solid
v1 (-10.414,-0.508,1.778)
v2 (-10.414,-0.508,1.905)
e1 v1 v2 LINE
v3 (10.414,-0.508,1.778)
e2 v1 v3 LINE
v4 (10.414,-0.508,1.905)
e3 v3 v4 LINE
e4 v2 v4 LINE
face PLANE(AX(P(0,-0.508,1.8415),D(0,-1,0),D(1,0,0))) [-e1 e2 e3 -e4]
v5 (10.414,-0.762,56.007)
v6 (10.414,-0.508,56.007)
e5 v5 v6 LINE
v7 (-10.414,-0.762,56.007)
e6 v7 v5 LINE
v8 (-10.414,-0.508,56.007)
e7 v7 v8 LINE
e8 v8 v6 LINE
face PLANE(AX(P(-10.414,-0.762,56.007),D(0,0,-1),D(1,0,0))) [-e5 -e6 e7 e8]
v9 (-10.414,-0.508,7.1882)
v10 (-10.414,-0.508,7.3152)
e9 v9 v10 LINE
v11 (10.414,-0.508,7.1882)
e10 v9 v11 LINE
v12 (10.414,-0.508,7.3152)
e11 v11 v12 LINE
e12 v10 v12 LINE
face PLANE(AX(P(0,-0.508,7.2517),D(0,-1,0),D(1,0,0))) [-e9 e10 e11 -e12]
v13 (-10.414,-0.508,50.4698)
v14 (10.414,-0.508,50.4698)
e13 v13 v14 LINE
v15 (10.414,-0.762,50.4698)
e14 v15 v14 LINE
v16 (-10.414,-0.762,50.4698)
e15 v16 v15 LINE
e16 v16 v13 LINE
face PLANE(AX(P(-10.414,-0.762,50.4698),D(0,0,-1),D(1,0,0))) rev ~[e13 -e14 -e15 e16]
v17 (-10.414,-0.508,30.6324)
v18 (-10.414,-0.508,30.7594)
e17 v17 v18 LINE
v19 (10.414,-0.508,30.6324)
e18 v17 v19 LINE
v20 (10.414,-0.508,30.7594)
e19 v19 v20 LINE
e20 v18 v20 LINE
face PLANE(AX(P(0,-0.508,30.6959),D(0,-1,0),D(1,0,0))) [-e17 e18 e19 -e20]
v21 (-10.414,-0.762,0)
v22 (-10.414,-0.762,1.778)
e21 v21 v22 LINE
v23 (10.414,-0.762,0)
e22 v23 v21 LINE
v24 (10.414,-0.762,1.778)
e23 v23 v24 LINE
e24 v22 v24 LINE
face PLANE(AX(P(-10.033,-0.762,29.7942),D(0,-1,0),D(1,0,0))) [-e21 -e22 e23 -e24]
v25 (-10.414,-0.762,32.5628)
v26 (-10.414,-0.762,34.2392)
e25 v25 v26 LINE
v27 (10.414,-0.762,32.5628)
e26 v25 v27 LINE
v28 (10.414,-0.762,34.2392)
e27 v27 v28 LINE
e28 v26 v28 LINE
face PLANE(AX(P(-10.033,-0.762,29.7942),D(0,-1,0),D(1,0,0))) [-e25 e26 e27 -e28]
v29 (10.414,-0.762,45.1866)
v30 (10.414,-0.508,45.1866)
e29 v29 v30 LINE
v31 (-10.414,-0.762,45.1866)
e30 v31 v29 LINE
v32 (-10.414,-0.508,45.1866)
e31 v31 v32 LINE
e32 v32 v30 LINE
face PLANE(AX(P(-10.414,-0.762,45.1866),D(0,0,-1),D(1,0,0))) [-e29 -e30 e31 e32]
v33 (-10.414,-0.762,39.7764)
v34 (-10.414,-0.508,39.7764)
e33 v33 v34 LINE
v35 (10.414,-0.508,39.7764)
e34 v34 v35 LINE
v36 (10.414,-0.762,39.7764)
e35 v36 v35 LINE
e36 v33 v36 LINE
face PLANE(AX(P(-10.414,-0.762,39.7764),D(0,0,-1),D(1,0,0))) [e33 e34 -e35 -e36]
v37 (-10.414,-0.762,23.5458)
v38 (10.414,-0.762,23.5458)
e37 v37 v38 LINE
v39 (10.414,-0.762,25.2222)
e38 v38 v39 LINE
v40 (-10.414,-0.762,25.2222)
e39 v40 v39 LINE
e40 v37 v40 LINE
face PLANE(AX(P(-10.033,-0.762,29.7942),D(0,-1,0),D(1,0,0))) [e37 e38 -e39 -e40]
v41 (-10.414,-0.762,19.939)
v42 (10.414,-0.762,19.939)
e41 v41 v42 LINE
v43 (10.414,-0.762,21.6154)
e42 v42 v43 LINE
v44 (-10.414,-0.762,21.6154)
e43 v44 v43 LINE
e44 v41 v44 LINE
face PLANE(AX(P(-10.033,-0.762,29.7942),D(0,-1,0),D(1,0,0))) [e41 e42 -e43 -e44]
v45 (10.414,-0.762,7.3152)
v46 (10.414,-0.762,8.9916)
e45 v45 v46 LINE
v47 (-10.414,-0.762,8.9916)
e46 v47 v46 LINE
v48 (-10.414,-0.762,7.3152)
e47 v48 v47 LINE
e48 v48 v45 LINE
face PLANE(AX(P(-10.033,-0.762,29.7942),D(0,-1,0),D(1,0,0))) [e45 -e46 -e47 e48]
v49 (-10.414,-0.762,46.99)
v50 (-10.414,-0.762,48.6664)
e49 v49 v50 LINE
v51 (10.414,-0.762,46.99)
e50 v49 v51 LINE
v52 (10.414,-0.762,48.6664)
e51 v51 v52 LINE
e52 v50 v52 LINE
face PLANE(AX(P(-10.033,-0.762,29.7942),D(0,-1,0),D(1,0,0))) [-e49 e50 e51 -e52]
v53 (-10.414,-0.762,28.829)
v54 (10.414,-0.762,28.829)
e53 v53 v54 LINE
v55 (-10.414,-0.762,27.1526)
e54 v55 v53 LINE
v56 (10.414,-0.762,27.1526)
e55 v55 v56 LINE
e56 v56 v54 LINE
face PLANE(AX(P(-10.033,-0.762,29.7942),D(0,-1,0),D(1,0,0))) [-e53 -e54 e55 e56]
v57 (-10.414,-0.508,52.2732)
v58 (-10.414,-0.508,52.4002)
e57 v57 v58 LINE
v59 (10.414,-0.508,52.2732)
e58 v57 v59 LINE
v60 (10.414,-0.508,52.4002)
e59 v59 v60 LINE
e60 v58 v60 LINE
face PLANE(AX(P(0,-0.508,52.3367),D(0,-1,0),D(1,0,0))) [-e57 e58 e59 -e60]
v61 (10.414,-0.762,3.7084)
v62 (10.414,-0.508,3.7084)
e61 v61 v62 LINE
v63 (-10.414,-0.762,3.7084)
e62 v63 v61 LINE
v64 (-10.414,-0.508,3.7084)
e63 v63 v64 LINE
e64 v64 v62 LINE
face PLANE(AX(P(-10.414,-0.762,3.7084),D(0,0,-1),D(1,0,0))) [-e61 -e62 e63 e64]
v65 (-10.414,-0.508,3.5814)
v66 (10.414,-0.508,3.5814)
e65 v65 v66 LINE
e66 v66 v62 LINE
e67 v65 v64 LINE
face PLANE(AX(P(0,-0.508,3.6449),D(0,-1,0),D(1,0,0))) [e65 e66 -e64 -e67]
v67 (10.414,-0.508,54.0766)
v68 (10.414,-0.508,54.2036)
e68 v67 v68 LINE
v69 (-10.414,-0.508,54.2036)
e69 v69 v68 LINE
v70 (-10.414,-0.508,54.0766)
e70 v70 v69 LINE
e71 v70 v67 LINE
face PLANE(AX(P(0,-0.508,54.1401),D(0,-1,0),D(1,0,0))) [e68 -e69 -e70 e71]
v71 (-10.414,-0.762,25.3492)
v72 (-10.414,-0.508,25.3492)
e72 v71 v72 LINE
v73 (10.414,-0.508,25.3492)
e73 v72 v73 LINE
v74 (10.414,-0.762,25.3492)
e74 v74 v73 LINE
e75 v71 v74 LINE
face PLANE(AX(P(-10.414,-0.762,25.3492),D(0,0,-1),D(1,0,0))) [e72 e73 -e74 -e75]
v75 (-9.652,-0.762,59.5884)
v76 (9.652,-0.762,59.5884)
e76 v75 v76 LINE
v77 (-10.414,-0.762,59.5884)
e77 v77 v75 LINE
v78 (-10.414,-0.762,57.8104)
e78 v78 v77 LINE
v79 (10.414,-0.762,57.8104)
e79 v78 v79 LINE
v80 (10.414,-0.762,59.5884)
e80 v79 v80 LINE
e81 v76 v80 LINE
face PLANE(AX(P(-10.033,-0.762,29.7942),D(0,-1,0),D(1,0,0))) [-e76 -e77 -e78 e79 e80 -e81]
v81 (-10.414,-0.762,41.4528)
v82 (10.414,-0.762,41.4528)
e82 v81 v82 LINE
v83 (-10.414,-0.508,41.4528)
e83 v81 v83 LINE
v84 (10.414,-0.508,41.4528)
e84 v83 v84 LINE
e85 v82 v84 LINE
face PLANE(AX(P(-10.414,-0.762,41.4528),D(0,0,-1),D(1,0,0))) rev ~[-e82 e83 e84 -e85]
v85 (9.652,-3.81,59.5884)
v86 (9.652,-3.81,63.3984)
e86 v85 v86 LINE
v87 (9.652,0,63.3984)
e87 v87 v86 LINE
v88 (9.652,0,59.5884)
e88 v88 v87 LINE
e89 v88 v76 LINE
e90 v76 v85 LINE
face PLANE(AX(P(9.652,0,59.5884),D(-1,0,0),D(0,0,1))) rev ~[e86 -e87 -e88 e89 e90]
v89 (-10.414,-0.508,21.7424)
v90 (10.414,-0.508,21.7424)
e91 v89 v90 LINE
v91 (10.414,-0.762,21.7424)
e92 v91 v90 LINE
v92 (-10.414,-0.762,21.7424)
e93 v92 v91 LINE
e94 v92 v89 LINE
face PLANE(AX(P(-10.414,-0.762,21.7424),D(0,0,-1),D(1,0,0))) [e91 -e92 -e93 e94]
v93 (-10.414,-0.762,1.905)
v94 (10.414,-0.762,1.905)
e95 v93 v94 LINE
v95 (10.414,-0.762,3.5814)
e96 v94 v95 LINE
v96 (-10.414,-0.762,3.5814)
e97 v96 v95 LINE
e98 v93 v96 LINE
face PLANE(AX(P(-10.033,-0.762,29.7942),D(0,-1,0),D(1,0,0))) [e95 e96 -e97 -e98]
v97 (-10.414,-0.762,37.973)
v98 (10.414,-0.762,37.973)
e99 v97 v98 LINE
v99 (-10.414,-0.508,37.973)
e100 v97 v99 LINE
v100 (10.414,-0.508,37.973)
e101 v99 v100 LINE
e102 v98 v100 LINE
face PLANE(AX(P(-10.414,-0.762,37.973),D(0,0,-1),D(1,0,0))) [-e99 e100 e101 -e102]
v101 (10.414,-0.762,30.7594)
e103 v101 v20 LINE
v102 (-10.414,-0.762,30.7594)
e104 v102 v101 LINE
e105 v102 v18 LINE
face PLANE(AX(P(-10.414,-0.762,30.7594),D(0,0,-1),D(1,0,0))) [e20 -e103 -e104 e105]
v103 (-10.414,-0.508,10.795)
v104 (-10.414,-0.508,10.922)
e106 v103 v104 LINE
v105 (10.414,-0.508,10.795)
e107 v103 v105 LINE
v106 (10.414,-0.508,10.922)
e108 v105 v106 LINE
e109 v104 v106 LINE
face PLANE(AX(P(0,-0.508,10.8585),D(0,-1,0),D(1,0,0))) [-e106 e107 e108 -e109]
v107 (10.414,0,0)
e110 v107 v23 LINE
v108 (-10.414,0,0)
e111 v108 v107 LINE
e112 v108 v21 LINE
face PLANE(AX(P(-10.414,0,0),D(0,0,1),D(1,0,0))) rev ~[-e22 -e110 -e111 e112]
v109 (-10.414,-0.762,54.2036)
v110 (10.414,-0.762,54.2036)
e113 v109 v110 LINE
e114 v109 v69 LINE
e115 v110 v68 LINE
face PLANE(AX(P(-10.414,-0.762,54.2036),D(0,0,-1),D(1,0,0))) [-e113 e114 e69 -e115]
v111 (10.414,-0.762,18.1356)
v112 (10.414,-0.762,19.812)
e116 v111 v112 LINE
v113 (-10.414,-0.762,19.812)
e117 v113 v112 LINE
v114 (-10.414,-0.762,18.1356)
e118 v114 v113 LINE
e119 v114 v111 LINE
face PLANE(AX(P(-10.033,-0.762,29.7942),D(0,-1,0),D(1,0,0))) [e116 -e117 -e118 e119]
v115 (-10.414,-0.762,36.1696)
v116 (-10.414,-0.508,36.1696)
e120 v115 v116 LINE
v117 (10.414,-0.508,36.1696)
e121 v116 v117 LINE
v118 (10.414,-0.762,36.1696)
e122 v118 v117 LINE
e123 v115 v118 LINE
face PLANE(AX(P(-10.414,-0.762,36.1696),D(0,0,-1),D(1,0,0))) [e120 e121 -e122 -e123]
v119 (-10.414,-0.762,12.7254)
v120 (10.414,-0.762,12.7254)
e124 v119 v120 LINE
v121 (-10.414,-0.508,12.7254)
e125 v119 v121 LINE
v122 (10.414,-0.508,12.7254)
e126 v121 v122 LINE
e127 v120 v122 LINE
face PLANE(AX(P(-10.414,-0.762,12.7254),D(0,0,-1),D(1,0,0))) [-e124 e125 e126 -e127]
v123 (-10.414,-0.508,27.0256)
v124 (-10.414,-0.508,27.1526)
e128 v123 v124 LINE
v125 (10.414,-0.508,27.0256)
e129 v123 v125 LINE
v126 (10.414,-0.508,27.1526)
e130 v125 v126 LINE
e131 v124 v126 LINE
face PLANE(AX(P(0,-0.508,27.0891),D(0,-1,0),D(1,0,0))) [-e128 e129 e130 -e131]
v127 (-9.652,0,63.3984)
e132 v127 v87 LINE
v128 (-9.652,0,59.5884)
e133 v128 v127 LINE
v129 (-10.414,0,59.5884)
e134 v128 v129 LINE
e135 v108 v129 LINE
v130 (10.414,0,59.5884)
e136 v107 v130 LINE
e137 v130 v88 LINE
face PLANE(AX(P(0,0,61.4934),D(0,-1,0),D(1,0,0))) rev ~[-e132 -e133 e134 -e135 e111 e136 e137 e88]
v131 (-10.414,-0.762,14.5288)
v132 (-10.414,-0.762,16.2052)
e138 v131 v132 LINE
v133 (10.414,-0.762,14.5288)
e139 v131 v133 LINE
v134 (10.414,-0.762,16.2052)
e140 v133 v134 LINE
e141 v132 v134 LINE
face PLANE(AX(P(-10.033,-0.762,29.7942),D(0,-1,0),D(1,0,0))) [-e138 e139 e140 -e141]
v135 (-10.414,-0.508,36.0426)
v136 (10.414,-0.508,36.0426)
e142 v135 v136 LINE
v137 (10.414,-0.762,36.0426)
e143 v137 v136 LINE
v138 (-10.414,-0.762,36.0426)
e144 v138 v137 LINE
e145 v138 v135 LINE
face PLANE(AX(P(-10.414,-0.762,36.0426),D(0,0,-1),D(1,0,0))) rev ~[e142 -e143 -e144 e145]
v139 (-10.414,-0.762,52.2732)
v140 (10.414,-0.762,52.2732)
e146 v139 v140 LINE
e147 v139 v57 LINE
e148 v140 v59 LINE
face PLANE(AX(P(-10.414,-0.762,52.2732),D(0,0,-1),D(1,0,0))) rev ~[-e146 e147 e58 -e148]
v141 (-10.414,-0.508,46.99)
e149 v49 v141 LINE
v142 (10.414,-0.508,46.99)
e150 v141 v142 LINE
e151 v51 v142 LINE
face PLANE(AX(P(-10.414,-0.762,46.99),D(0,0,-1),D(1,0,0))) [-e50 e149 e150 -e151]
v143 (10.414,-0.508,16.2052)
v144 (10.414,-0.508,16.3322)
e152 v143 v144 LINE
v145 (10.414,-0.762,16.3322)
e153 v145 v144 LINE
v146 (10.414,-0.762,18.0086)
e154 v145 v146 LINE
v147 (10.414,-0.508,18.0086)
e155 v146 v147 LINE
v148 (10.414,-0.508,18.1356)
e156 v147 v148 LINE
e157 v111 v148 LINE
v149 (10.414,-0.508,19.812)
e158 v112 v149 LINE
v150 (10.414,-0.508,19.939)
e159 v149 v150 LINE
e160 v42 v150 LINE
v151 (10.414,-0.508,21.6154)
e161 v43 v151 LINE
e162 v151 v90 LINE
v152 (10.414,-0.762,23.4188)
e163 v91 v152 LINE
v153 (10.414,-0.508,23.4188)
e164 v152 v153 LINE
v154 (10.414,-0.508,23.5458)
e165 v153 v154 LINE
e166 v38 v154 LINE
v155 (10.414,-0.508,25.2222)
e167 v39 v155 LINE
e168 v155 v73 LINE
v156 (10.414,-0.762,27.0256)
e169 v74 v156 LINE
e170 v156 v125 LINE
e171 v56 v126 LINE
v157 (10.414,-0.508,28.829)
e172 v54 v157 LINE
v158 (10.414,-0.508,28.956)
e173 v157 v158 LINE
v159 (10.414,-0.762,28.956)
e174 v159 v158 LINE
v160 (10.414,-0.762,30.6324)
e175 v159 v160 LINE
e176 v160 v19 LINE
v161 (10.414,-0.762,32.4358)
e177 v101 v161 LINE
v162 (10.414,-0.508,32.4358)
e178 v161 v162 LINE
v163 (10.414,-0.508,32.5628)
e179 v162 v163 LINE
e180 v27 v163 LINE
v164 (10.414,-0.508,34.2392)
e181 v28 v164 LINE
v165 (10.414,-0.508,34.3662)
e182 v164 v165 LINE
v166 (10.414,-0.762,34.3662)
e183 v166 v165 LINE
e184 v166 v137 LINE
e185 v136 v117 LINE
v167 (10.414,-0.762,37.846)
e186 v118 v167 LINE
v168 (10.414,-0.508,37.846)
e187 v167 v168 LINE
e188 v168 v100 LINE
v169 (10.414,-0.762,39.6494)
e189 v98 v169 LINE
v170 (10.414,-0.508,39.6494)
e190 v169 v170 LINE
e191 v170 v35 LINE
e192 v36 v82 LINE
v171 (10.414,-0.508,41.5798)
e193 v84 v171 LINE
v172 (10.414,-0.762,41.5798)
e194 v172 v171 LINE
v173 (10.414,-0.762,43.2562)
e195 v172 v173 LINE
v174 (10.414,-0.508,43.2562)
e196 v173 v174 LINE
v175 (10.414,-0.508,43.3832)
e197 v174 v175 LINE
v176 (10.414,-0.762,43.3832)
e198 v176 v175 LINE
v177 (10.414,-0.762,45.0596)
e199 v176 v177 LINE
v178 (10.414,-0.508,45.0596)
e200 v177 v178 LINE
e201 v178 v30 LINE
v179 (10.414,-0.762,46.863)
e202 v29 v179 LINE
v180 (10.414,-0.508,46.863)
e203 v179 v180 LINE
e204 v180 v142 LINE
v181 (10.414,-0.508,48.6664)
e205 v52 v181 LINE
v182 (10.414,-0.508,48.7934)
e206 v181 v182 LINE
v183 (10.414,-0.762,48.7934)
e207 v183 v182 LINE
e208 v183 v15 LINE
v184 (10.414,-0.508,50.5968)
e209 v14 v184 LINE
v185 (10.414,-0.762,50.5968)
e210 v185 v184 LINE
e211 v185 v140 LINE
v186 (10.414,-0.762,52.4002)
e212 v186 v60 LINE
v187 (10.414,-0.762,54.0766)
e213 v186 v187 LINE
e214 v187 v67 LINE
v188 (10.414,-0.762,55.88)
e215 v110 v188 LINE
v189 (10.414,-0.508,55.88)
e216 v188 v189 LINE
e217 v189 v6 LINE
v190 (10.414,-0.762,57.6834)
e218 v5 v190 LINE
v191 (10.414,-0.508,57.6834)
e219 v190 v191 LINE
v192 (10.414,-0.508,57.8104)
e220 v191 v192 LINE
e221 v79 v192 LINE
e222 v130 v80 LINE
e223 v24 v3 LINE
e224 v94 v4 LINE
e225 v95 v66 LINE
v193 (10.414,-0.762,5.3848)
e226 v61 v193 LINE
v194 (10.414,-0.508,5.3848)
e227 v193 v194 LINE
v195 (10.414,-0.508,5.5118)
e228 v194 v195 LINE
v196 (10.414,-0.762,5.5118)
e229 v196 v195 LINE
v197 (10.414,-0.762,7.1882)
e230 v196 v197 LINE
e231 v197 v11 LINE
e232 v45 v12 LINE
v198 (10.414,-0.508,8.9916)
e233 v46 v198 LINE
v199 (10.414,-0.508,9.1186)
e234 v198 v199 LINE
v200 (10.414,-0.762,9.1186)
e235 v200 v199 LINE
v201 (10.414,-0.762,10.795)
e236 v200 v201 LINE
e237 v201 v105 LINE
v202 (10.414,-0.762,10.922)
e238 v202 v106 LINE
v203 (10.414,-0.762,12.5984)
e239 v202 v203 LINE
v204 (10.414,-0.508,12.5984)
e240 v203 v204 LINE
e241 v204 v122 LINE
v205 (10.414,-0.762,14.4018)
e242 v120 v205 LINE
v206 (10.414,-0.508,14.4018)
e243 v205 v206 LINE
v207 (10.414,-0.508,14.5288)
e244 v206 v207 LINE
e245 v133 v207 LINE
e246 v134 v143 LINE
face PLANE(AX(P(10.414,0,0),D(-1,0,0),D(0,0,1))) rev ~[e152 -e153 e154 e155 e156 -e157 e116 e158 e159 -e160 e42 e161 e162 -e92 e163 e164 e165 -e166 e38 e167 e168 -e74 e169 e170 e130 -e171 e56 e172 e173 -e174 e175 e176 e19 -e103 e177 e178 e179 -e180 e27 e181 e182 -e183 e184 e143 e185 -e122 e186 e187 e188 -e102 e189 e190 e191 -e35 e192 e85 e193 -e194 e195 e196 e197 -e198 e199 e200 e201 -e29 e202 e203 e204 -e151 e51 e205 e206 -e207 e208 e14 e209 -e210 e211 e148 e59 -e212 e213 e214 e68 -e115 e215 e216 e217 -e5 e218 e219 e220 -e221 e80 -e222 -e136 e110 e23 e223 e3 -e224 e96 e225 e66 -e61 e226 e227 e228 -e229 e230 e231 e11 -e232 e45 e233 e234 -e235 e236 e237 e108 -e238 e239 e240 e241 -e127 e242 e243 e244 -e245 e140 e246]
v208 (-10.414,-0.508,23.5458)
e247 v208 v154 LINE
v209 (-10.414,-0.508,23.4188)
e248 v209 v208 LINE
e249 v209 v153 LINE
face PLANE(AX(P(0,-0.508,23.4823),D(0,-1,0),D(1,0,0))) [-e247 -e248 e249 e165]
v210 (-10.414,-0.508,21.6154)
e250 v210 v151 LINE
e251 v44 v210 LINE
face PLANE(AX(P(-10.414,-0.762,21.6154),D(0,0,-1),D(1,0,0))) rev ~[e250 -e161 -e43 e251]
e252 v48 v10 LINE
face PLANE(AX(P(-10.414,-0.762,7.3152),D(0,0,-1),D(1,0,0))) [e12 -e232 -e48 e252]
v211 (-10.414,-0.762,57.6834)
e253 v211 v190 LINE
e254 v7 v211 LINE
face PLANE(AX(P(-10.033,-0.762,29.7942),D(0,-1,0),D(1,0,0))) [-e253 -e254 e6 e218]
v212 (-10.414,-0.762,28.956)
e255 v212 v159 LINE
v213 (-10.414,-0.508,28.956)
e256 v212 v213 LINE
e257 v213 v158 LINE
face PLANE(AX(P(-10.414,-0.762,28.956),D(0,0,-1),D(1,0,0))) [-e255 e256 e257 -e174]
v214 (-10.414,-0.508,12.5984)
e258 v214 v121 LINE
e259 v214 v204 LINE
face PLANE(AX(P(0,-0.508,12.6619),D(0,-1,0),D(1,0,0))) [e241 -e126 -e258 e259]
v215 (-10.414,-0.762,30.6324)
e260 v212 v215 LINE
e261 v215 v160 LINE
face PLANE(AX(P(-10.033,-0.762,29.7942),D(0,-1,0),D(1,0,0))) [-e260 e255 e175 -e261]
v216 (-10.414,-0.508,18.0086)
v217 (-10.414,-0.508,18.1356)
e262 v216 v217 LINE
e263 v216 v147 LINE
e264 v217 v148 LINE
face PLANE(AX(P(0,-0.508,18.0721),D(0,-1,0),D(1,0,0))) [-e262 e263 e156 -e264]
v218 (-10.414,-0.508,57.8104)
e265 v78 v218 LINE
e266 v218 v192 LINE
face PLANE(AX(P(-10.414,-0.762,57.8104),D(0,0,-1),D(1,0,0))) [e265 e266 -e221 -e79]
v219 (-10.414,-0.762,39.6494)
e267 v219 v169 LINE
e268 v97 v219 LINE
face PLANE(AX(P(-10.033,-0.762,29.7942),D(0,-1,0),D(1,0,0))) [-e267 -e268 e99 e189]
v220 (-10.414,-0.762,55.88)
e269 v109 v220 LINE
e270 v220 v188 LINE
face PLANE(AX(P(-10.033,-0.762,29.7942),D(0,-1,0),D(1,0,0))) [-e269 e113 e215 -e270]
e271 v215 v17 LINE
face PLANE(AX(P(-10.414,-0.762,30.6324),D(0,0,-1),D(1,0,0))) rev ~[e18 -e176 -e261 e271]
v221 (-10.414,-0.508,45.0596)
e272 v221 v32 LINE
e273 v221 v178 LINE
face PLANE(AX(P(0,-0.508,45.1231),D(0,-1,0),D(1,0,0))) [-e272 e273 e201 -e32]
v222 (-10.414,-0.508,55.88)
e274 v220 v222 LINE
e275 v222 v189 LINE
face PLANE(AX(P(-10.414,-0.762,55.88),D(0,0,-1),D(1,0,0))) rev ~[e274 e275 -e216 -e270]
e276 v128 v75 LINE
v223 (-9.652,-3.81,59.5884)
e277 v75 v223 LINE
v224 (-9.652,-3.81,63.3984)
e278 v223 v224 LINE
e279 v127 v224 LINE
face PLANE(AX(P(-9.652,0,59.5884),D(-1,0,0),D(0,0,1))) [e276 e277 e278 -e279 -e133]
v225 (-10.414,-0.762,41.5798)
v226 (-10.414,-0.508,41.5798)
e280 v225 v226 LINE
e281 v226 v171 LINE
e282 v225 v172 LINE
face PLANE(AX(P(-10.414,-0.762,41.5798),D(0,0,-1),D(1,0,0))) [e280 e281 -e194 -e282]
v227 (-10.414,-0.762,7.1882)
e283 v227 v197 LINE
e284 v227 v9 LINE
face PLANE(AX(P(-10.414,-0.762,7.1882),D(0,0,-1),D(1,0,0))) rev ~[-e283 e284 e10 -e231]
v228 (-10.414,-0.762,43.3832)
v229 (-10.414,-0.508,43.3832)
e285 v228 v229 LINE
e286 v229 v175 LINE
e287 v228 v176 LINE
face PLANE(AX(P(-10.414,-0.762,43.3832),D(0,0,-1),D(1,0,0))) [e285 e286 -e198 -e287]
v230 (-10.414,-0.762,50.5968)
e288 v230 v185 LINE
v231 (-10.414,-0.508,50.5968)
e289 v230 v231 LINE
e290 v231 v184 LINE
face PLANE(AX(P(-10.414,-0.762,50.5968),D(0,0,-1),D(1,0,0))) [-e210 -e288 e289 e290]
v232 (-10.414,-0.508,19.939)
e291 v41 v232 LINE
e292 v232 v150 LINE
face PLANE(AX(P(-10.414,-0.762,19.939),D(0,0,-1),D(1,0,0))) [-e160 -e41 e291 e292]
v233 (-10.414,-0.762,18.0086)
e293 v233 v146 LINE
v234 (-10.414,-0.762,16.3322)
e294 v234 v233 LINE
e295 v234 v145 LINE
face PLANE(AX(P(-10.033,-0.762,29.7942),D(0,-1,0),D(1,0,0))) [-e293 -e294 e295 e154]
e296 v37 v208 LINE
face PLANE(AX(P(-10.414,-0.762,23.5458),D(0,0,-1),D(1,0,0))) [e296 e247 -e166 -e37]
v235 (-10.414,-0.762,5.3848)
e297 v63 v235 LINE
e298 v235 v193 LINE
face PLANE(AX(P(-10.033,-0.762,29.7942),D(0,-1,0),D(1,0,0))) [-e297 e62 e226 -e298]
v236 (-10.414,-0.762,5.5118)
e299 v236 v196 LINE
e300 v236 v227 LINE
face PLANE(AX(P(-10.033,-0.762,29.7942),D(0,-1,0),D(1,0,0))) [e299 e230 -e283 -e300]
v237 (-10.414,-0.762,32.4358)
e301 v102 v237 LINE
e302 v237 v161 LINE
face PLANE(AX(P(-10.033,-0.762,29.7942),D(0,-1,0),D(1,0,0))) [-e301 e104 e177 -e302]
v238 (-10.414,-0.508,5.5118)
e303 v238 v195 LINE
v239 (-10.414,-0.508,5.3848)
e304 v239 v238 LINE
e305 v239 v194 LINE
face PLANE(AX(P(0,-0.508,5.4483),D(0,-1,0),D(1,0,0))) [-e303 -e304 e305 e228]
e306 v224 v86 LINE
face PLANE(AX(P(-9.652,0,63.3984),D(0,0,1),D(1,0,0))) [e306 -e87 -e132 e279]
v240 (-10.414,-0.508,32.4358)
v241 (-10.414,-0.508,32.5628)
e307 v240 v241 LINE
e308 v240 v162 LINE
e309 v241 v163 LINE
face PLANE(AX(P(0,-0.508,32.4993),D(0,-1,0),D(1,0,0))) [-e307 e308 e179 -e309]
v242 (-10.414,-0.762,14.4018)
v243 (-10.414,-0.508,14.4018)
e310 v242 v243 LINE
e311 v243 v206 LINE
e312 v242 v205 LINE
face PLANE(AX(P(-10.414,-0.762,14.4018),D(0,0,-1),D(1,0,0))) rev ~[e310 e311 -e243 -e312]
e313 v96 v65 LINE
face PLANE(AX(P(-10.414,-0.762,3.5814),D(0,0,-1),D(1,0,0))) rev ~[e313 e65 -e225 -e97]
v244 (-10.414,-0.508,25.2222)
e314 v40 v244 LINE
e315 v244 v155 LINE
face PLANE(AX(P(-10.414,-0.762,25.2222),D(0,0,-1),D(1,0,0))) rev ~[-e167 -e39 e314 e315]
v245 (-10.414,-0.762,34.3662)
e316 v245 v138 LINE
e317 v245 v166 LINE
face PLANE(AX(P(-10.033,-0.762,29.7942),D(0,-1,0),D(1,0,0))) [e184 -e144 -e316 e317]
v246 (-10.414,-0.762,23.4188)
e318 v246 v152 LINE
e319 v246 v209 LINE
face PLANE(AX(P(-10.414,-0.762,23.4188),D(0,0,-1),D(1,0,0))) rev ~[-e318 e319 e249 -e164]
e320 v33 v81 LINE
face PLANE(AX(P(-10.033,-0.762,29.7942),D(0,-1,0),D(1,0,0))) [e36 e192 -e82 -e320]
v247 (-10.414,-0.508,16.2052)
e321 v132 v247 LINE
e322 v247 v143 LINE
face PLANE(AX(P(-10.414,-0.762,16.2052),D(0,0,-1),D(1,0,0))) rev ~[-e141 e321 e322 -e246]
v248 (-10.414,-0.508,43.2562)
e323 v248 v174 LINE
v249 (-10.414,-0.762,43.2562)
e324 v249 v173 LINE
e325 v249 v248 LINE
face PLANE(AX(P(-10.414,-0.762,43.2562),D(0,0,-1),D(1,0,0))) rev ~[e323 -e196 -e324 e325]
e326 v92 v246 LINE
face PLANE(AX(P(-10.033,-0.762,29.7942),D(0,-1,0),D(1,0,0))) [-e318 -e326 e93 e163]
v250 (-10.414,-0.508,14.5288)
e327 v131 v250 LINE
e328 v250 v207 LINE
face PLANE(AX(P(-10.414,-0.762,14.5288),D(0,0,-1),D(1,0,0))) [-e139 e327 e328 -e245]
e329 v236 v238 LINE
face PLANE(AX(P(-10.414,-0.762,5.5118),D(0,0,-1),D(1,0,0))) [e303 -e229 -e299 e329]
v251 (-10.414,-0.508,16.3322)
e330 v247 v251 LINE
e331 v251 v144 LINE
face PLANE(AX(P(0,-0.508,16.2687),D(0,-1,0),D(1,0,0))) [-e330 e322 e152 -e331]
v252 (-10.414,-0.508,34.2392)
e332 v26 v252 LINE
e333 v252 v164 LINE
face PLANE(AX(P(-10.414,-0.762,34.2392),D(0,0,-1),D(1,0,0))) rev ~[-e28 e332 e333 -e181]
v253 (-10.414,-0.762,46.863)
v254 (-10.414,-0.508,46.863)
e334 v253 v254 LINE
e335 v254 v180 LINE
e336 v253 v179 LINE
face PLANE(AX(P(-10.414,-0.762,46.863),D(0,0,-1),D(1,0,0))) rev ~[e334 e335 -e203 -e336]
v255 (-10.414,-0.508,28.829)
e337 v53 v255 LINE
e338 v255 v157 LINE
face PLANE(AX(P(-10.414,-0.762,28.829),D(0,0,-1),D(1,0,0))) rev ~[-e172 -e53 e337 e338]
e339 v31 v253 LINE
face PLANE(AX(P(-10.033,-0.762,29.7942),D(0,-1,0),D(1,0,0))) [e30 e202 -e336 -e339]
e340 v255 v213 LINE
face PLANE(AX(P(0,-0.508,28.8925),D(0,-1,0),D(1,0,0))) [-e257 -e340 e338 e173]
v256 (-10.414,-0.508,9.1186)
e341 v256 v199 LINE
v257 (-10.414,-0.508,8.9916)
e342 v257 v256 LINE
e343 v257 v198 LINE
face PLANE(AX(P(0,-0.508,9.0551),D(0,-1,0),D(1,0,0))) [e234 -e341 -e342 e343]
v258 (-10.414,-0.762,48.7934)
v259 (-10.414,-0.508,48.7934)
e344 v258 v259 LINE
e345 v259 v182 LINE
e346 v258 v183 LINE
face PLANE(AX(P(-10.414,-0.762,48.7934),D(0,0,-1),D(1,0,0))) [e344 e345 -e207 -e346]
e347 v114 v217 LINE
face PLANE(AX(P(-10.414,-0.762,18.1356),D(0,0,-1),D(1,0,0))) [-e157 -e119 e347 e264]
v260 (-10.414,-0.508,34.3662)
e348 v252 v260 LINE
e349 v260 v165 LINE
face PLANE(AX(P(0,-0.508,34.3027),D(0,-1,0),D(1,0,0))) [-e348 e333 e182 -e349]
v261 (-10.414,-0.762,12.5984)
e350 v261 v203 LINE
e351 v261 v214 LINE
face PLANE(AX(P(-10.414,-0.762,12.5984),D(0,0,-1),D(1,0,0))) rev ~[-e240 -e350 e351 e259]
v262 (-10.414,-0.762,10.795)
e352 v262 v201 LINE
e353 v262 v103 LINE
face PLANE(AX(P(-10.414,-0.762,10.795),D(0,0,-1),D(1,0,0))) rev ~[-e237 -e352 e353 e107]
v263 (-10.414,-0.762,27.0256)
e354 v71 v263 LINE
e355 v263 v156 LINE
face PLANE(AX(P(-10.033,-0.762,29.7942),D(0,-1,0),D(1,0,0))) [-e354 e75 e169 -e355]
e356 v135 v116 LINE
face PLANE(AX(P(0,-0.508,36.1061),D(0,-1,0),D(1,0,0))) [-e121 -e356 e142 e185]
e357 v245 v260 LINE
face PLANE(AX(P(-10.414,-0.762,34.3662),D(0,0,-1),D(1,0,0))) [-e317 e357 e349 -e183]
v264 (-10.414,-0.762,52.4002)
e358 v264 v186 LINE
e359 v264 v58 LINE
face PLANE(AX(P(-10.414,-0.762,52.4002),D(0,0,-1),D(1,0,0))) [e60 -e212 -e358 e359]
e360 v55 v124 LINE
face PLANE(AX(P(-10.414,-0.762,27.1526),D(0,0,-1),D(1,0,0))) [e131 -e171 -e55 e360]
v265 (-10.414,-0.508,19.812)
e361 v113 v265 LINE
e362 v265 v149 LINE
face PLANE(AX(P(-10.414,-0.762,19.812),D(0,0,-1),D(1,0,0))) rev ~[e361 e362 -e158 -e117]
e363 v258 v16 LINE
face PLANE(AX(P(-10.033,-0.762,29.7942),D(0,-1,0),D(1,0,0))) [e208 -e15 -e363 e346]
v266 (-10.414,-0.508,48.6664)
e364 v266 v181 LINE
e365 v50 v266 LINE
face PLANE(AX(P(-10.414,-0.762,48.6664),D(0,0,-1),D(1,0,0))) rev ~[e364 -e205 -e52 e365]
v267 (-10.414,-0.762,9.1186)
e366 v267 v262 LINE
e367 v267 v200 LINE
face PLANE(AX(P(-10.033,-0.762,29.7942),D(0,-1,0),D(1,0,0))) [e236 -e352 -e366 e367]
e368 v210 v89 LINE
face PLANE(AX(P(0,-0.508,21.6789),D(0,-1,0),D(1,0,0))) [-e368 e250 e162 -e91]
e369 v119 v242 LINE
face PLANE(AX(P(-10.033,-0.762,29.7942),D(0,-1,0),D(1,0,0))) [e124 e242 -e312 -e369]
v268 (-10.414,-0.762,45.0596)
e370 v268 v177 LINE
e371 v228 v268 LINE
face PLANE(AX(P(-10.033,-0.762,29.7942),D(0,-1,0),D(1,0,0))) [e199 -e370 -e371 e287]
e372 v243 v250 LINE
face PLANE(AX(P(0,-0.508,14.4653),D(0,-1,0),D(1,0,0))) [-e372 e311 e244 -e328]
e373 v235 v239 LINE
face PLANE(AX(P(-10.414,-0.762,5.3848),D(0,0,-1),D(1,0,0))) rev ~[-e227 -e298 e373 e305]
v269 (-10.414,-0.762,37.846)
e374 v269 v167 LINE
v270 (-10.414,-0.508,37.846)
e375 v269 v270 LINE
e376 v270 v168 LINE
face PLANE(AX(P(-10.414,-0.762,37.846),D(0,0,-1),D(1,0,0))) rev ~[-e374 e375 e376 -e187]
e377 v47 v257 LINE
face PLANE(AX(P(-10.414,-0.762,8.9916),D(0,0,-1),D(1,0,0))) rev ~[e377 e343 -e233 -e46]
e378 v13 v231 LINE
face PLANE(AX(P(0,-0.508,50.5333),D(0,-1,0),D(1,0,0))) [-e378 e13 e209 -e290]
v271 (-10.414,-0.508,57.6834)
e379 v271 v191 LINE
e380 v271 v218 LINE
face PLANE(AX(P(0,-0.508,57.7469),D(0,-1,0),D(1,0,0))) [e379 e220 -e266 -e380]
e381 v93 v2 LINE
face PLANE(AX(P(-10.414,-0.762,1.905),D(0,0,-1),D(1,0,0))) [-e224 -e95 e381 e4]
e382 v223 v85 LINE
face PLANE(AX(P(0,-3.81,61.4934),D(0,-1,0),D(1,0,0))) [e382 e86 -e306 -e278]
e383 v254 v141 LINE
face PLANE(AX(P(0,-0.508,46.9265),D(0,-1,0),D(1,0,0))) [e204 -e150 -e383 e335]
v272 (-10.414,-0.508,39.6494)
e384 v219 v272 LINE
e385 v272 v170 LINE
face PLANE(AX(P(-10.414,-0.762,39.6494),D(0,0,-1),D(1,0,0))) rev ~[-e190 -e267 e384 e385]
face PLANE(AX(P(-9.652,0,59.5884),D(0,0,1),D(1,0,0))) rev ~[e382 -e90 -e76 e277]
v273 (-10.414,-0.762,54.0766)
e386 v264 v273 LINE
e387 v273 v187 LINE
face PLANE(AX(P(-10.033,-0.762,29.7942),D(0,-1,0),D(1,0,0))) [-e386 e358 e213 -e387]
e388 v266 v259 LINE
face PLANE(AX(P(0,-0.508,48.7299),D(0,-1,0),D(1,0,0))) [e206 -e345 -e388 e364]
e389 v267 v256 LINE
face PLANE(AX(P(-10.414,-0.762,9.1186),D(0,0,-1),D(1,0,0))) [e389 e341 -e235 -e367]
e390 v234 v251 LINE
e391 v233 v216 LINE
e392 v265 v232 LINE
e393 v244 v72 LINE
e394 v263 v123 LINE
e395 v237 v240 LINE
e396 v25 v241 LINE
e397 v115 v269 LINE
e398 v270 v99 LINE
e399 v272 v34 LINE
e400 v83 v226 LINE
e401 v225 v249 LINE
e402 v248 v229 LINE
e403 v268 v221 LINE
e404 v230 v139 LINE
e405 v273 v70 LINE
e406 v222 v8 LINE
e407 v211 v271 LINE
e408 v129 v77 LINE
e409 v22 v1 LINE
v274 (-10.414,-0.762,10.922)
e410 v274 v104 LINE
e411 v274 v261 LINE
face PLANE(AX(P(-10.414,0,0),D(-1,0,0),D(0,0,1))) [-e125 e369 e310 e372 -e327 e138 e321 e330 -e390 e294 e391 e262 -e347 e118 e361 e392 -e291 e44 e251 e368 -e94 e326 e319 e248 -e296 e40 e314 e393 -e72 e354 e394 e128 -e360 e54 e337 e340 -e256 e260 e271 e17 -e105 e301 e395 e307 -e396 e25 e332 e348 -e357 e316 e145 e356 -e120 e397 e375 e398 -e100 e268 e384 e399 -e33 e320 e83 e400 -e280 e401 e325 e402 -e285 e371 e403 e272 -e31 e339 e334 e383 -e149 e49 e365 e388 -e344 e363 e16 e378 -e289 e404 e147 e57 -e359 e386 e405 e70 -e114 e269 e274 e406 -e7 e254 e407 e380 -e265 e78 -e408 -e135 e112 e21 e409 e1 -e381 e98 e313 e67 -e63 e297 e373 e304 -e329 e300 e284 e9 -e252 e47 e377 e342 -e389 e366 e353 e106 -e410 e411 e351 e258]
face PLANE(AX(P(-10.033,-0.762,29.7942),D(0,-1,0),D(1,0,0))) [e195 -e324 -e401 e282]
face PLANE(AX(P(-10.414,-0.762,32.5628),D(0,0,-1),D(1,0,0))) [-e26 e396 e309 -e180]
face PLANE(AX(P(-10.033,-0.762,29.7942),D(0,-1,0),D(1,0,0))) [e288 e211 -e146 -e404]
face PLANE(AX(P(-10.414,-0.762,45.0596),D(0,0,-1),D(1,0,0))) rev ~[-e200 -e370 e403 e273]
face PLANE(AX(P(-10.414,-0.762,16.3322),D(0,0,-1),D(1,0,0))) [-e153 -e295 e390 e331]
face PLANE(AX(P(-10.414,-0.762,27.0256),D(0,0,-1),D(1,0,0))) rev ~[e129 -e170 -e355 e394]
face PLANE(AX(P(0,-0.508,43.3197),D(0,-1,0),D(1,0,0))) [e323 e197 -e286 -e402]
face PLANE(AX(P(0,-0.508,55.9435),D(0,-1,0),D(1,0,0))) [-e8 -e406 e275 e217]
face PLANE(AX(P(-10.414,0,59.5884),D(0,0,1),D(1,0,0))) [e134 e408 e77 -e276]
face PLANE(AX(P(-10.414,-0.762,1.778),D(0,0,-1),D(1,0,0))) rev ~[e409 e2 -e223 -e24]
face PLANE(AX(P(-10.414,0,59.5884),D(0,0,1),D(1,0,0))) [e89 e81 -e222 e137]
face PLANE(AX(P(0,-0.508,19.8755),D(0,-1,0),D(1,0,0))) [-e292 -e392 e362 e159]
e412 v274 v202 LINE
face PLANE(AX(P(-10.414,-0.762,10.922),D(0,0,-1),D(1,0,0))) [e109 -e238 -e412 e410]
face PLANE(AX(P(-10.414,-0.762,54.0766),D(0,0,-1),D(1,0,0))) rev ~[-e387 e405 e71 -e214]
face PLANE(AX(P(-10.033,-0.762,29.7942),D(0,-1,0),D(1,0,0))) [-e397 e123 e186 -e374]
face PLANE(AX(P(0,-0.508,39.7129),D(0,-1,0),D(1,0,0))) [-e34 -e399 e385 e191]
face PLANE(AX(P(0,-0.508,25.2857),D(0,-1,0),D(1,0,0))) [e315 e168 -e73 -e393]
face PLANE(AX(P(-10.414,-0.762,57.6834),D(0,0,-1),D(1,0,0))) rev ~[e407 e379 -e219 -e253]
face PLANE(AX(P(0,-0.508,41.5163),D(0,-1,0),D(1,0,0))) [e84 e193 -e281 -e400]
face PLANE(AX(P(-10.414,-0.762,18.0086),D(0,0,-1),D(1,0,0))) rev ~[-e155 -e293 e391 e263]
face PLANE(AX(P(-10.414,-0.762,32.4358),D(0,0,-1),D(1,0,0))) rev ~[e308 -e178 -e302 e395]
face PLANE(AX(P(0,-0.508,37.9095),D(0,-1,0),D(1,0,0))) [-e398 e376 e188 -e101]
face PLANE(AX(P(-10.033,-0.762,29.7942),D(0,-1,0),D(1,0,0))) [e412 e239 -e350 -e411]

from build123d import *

# Parameters (mm, degrees)
F0_W     = 19.304
F0_H     = 59.5884
F1_DEPTH = 0.762
F2_W     = 0.762
F2_H     = 59.5884
F3_DEPTH = 0.762
F4_W     = 19.304
F4_H     = 3.81
F5_DEPTH = 3.81
F6_W     = 20.828
F6_H     = 0.127
F7_DEPTH = 0.254


with BuildPart() as f1:
    # F0 (on Front) → F1 (new body)
    with BuildSketch(Plane.XZ):
        with Locations((0, 29.7942)):
            Rectangle(F0_W, F0_H)
    extrude(amount=F1_DEPTH)

    # F2 (on Front) → F3 (join)
    with BuildSketch(Plane.XZ):
        with Locations((-10.033, 29.7942)):
            Rectangle(F2_W, F2_H)
        with Locations((10.033, 29.7942)):
            Rectangle(F2_W, F2_H)
    extrude(amount=F3_DEPTH)

    # F4 (on Front) → F5 (join)
    with BuildSketch(Plane.XZ):
        with Locations((0, 61.4934)):
            Rectangle(F4_W, F4_H)
    extrude(amount=F5_DEPTH)

    # F6 (on face) → F7 (cut)
    with BuildSketch(Plane.XZ.offset(0.762)):
        with Locations((0, 1.8415)):
            Rectangle(F6_W, F6_H)
        with Locations((0, 3.6449)):
            Rectangle(F6_W, F6_H)
        with Locations((0, 5.4483)):
            Rectangle(F6_W, F6_H)
        with Locations((0, 7.2517)):
            Rectangle(F6_W, F6_H)
        with Locations((0, 9.0551)):
            Rectangle(F6_W, F6_H)
        with Locations((0, 10.8585)):
            Rectangle(F6_W, F6_H)
        with Locations((0, 12.6619)):
            Rectangle(F6_W, F6_H)
        with Locations((0, 14.4653)):
            Rectangle(F6_W, F6_H)
        with Locations((0, 16.2687)):
            Rectangle(F6_W, F6_H)
        with Locations((0, 18.0721)):
            Rectangle(F6_W, F6_H)
        with Locations((0, 19.8755)):
            Rectangle(F6_W, F6_H)
        with Locations((0, 21.6789)):
            Rectangle(F6_W, F6_H)
        with Locations((0, 23.4823)):
            Rectangle(F6_W, F6_H)
        with Locations((0, 25.2857)):
            Rectangle(F6_W, F6_H)
        with Locations((0, 27.0891)):
            Rectangle(F6_W, F6_H)
        with Locations((0, 28.8925)):
            Rectangle(F6_W, F6_H)
        with Locations((0, 30.6959)):
            Rectangle(F6_W, F6_H)
        with Locations((0, 32.4993)):
            Rectangle(F6_W, F6_H)
        with Locations((0, 34.3027)):
            Rectangle(F6_W, F6_H)
        with Locations((0, 36.1061)):
            Rectangle(F6_W, F6_H)
        with Locations((0, 37.9095)):
            Rectangle(F6_W, F6_H)
        with Locations((0, 39.7129)):
            Rectangle(F6_W, F6_H)
        with Locations((0, 41.5163)):
            Rectangle(F6_W, F6_H)
        with Locations((0, 43.3197)):
            Rectangle(F6_W, F6_H)
        with Locations((0, 45.1231)):
            Rectangle(F6_W, F6_H)
        with Locations((0, 46.9265)):
            Rectangle(F6_W, F6_H)
        with Locations((0, 48.7299)):
            Rectangle(F6_W, F6_H)
        with Locations((0, 50.5333)):
            Rectangle(F6_W, F6_H)
        with Locations((0, 52.3367)):
            Rectangle(F6_W, F6_H)
        with Locations((0, 54.1401)):
            Rectangle(F6_W, F6_H)
        with Locations((0, 55.9435)):
            Rectangle(F6_W, F6_H)
        with Locations((0, 57.7469)):
            Rectangle(F6_W, F6_H)
    extrude(amount=-F7_DEPTH, mode=Mode.SUBTRACT)


solid = f1.part
